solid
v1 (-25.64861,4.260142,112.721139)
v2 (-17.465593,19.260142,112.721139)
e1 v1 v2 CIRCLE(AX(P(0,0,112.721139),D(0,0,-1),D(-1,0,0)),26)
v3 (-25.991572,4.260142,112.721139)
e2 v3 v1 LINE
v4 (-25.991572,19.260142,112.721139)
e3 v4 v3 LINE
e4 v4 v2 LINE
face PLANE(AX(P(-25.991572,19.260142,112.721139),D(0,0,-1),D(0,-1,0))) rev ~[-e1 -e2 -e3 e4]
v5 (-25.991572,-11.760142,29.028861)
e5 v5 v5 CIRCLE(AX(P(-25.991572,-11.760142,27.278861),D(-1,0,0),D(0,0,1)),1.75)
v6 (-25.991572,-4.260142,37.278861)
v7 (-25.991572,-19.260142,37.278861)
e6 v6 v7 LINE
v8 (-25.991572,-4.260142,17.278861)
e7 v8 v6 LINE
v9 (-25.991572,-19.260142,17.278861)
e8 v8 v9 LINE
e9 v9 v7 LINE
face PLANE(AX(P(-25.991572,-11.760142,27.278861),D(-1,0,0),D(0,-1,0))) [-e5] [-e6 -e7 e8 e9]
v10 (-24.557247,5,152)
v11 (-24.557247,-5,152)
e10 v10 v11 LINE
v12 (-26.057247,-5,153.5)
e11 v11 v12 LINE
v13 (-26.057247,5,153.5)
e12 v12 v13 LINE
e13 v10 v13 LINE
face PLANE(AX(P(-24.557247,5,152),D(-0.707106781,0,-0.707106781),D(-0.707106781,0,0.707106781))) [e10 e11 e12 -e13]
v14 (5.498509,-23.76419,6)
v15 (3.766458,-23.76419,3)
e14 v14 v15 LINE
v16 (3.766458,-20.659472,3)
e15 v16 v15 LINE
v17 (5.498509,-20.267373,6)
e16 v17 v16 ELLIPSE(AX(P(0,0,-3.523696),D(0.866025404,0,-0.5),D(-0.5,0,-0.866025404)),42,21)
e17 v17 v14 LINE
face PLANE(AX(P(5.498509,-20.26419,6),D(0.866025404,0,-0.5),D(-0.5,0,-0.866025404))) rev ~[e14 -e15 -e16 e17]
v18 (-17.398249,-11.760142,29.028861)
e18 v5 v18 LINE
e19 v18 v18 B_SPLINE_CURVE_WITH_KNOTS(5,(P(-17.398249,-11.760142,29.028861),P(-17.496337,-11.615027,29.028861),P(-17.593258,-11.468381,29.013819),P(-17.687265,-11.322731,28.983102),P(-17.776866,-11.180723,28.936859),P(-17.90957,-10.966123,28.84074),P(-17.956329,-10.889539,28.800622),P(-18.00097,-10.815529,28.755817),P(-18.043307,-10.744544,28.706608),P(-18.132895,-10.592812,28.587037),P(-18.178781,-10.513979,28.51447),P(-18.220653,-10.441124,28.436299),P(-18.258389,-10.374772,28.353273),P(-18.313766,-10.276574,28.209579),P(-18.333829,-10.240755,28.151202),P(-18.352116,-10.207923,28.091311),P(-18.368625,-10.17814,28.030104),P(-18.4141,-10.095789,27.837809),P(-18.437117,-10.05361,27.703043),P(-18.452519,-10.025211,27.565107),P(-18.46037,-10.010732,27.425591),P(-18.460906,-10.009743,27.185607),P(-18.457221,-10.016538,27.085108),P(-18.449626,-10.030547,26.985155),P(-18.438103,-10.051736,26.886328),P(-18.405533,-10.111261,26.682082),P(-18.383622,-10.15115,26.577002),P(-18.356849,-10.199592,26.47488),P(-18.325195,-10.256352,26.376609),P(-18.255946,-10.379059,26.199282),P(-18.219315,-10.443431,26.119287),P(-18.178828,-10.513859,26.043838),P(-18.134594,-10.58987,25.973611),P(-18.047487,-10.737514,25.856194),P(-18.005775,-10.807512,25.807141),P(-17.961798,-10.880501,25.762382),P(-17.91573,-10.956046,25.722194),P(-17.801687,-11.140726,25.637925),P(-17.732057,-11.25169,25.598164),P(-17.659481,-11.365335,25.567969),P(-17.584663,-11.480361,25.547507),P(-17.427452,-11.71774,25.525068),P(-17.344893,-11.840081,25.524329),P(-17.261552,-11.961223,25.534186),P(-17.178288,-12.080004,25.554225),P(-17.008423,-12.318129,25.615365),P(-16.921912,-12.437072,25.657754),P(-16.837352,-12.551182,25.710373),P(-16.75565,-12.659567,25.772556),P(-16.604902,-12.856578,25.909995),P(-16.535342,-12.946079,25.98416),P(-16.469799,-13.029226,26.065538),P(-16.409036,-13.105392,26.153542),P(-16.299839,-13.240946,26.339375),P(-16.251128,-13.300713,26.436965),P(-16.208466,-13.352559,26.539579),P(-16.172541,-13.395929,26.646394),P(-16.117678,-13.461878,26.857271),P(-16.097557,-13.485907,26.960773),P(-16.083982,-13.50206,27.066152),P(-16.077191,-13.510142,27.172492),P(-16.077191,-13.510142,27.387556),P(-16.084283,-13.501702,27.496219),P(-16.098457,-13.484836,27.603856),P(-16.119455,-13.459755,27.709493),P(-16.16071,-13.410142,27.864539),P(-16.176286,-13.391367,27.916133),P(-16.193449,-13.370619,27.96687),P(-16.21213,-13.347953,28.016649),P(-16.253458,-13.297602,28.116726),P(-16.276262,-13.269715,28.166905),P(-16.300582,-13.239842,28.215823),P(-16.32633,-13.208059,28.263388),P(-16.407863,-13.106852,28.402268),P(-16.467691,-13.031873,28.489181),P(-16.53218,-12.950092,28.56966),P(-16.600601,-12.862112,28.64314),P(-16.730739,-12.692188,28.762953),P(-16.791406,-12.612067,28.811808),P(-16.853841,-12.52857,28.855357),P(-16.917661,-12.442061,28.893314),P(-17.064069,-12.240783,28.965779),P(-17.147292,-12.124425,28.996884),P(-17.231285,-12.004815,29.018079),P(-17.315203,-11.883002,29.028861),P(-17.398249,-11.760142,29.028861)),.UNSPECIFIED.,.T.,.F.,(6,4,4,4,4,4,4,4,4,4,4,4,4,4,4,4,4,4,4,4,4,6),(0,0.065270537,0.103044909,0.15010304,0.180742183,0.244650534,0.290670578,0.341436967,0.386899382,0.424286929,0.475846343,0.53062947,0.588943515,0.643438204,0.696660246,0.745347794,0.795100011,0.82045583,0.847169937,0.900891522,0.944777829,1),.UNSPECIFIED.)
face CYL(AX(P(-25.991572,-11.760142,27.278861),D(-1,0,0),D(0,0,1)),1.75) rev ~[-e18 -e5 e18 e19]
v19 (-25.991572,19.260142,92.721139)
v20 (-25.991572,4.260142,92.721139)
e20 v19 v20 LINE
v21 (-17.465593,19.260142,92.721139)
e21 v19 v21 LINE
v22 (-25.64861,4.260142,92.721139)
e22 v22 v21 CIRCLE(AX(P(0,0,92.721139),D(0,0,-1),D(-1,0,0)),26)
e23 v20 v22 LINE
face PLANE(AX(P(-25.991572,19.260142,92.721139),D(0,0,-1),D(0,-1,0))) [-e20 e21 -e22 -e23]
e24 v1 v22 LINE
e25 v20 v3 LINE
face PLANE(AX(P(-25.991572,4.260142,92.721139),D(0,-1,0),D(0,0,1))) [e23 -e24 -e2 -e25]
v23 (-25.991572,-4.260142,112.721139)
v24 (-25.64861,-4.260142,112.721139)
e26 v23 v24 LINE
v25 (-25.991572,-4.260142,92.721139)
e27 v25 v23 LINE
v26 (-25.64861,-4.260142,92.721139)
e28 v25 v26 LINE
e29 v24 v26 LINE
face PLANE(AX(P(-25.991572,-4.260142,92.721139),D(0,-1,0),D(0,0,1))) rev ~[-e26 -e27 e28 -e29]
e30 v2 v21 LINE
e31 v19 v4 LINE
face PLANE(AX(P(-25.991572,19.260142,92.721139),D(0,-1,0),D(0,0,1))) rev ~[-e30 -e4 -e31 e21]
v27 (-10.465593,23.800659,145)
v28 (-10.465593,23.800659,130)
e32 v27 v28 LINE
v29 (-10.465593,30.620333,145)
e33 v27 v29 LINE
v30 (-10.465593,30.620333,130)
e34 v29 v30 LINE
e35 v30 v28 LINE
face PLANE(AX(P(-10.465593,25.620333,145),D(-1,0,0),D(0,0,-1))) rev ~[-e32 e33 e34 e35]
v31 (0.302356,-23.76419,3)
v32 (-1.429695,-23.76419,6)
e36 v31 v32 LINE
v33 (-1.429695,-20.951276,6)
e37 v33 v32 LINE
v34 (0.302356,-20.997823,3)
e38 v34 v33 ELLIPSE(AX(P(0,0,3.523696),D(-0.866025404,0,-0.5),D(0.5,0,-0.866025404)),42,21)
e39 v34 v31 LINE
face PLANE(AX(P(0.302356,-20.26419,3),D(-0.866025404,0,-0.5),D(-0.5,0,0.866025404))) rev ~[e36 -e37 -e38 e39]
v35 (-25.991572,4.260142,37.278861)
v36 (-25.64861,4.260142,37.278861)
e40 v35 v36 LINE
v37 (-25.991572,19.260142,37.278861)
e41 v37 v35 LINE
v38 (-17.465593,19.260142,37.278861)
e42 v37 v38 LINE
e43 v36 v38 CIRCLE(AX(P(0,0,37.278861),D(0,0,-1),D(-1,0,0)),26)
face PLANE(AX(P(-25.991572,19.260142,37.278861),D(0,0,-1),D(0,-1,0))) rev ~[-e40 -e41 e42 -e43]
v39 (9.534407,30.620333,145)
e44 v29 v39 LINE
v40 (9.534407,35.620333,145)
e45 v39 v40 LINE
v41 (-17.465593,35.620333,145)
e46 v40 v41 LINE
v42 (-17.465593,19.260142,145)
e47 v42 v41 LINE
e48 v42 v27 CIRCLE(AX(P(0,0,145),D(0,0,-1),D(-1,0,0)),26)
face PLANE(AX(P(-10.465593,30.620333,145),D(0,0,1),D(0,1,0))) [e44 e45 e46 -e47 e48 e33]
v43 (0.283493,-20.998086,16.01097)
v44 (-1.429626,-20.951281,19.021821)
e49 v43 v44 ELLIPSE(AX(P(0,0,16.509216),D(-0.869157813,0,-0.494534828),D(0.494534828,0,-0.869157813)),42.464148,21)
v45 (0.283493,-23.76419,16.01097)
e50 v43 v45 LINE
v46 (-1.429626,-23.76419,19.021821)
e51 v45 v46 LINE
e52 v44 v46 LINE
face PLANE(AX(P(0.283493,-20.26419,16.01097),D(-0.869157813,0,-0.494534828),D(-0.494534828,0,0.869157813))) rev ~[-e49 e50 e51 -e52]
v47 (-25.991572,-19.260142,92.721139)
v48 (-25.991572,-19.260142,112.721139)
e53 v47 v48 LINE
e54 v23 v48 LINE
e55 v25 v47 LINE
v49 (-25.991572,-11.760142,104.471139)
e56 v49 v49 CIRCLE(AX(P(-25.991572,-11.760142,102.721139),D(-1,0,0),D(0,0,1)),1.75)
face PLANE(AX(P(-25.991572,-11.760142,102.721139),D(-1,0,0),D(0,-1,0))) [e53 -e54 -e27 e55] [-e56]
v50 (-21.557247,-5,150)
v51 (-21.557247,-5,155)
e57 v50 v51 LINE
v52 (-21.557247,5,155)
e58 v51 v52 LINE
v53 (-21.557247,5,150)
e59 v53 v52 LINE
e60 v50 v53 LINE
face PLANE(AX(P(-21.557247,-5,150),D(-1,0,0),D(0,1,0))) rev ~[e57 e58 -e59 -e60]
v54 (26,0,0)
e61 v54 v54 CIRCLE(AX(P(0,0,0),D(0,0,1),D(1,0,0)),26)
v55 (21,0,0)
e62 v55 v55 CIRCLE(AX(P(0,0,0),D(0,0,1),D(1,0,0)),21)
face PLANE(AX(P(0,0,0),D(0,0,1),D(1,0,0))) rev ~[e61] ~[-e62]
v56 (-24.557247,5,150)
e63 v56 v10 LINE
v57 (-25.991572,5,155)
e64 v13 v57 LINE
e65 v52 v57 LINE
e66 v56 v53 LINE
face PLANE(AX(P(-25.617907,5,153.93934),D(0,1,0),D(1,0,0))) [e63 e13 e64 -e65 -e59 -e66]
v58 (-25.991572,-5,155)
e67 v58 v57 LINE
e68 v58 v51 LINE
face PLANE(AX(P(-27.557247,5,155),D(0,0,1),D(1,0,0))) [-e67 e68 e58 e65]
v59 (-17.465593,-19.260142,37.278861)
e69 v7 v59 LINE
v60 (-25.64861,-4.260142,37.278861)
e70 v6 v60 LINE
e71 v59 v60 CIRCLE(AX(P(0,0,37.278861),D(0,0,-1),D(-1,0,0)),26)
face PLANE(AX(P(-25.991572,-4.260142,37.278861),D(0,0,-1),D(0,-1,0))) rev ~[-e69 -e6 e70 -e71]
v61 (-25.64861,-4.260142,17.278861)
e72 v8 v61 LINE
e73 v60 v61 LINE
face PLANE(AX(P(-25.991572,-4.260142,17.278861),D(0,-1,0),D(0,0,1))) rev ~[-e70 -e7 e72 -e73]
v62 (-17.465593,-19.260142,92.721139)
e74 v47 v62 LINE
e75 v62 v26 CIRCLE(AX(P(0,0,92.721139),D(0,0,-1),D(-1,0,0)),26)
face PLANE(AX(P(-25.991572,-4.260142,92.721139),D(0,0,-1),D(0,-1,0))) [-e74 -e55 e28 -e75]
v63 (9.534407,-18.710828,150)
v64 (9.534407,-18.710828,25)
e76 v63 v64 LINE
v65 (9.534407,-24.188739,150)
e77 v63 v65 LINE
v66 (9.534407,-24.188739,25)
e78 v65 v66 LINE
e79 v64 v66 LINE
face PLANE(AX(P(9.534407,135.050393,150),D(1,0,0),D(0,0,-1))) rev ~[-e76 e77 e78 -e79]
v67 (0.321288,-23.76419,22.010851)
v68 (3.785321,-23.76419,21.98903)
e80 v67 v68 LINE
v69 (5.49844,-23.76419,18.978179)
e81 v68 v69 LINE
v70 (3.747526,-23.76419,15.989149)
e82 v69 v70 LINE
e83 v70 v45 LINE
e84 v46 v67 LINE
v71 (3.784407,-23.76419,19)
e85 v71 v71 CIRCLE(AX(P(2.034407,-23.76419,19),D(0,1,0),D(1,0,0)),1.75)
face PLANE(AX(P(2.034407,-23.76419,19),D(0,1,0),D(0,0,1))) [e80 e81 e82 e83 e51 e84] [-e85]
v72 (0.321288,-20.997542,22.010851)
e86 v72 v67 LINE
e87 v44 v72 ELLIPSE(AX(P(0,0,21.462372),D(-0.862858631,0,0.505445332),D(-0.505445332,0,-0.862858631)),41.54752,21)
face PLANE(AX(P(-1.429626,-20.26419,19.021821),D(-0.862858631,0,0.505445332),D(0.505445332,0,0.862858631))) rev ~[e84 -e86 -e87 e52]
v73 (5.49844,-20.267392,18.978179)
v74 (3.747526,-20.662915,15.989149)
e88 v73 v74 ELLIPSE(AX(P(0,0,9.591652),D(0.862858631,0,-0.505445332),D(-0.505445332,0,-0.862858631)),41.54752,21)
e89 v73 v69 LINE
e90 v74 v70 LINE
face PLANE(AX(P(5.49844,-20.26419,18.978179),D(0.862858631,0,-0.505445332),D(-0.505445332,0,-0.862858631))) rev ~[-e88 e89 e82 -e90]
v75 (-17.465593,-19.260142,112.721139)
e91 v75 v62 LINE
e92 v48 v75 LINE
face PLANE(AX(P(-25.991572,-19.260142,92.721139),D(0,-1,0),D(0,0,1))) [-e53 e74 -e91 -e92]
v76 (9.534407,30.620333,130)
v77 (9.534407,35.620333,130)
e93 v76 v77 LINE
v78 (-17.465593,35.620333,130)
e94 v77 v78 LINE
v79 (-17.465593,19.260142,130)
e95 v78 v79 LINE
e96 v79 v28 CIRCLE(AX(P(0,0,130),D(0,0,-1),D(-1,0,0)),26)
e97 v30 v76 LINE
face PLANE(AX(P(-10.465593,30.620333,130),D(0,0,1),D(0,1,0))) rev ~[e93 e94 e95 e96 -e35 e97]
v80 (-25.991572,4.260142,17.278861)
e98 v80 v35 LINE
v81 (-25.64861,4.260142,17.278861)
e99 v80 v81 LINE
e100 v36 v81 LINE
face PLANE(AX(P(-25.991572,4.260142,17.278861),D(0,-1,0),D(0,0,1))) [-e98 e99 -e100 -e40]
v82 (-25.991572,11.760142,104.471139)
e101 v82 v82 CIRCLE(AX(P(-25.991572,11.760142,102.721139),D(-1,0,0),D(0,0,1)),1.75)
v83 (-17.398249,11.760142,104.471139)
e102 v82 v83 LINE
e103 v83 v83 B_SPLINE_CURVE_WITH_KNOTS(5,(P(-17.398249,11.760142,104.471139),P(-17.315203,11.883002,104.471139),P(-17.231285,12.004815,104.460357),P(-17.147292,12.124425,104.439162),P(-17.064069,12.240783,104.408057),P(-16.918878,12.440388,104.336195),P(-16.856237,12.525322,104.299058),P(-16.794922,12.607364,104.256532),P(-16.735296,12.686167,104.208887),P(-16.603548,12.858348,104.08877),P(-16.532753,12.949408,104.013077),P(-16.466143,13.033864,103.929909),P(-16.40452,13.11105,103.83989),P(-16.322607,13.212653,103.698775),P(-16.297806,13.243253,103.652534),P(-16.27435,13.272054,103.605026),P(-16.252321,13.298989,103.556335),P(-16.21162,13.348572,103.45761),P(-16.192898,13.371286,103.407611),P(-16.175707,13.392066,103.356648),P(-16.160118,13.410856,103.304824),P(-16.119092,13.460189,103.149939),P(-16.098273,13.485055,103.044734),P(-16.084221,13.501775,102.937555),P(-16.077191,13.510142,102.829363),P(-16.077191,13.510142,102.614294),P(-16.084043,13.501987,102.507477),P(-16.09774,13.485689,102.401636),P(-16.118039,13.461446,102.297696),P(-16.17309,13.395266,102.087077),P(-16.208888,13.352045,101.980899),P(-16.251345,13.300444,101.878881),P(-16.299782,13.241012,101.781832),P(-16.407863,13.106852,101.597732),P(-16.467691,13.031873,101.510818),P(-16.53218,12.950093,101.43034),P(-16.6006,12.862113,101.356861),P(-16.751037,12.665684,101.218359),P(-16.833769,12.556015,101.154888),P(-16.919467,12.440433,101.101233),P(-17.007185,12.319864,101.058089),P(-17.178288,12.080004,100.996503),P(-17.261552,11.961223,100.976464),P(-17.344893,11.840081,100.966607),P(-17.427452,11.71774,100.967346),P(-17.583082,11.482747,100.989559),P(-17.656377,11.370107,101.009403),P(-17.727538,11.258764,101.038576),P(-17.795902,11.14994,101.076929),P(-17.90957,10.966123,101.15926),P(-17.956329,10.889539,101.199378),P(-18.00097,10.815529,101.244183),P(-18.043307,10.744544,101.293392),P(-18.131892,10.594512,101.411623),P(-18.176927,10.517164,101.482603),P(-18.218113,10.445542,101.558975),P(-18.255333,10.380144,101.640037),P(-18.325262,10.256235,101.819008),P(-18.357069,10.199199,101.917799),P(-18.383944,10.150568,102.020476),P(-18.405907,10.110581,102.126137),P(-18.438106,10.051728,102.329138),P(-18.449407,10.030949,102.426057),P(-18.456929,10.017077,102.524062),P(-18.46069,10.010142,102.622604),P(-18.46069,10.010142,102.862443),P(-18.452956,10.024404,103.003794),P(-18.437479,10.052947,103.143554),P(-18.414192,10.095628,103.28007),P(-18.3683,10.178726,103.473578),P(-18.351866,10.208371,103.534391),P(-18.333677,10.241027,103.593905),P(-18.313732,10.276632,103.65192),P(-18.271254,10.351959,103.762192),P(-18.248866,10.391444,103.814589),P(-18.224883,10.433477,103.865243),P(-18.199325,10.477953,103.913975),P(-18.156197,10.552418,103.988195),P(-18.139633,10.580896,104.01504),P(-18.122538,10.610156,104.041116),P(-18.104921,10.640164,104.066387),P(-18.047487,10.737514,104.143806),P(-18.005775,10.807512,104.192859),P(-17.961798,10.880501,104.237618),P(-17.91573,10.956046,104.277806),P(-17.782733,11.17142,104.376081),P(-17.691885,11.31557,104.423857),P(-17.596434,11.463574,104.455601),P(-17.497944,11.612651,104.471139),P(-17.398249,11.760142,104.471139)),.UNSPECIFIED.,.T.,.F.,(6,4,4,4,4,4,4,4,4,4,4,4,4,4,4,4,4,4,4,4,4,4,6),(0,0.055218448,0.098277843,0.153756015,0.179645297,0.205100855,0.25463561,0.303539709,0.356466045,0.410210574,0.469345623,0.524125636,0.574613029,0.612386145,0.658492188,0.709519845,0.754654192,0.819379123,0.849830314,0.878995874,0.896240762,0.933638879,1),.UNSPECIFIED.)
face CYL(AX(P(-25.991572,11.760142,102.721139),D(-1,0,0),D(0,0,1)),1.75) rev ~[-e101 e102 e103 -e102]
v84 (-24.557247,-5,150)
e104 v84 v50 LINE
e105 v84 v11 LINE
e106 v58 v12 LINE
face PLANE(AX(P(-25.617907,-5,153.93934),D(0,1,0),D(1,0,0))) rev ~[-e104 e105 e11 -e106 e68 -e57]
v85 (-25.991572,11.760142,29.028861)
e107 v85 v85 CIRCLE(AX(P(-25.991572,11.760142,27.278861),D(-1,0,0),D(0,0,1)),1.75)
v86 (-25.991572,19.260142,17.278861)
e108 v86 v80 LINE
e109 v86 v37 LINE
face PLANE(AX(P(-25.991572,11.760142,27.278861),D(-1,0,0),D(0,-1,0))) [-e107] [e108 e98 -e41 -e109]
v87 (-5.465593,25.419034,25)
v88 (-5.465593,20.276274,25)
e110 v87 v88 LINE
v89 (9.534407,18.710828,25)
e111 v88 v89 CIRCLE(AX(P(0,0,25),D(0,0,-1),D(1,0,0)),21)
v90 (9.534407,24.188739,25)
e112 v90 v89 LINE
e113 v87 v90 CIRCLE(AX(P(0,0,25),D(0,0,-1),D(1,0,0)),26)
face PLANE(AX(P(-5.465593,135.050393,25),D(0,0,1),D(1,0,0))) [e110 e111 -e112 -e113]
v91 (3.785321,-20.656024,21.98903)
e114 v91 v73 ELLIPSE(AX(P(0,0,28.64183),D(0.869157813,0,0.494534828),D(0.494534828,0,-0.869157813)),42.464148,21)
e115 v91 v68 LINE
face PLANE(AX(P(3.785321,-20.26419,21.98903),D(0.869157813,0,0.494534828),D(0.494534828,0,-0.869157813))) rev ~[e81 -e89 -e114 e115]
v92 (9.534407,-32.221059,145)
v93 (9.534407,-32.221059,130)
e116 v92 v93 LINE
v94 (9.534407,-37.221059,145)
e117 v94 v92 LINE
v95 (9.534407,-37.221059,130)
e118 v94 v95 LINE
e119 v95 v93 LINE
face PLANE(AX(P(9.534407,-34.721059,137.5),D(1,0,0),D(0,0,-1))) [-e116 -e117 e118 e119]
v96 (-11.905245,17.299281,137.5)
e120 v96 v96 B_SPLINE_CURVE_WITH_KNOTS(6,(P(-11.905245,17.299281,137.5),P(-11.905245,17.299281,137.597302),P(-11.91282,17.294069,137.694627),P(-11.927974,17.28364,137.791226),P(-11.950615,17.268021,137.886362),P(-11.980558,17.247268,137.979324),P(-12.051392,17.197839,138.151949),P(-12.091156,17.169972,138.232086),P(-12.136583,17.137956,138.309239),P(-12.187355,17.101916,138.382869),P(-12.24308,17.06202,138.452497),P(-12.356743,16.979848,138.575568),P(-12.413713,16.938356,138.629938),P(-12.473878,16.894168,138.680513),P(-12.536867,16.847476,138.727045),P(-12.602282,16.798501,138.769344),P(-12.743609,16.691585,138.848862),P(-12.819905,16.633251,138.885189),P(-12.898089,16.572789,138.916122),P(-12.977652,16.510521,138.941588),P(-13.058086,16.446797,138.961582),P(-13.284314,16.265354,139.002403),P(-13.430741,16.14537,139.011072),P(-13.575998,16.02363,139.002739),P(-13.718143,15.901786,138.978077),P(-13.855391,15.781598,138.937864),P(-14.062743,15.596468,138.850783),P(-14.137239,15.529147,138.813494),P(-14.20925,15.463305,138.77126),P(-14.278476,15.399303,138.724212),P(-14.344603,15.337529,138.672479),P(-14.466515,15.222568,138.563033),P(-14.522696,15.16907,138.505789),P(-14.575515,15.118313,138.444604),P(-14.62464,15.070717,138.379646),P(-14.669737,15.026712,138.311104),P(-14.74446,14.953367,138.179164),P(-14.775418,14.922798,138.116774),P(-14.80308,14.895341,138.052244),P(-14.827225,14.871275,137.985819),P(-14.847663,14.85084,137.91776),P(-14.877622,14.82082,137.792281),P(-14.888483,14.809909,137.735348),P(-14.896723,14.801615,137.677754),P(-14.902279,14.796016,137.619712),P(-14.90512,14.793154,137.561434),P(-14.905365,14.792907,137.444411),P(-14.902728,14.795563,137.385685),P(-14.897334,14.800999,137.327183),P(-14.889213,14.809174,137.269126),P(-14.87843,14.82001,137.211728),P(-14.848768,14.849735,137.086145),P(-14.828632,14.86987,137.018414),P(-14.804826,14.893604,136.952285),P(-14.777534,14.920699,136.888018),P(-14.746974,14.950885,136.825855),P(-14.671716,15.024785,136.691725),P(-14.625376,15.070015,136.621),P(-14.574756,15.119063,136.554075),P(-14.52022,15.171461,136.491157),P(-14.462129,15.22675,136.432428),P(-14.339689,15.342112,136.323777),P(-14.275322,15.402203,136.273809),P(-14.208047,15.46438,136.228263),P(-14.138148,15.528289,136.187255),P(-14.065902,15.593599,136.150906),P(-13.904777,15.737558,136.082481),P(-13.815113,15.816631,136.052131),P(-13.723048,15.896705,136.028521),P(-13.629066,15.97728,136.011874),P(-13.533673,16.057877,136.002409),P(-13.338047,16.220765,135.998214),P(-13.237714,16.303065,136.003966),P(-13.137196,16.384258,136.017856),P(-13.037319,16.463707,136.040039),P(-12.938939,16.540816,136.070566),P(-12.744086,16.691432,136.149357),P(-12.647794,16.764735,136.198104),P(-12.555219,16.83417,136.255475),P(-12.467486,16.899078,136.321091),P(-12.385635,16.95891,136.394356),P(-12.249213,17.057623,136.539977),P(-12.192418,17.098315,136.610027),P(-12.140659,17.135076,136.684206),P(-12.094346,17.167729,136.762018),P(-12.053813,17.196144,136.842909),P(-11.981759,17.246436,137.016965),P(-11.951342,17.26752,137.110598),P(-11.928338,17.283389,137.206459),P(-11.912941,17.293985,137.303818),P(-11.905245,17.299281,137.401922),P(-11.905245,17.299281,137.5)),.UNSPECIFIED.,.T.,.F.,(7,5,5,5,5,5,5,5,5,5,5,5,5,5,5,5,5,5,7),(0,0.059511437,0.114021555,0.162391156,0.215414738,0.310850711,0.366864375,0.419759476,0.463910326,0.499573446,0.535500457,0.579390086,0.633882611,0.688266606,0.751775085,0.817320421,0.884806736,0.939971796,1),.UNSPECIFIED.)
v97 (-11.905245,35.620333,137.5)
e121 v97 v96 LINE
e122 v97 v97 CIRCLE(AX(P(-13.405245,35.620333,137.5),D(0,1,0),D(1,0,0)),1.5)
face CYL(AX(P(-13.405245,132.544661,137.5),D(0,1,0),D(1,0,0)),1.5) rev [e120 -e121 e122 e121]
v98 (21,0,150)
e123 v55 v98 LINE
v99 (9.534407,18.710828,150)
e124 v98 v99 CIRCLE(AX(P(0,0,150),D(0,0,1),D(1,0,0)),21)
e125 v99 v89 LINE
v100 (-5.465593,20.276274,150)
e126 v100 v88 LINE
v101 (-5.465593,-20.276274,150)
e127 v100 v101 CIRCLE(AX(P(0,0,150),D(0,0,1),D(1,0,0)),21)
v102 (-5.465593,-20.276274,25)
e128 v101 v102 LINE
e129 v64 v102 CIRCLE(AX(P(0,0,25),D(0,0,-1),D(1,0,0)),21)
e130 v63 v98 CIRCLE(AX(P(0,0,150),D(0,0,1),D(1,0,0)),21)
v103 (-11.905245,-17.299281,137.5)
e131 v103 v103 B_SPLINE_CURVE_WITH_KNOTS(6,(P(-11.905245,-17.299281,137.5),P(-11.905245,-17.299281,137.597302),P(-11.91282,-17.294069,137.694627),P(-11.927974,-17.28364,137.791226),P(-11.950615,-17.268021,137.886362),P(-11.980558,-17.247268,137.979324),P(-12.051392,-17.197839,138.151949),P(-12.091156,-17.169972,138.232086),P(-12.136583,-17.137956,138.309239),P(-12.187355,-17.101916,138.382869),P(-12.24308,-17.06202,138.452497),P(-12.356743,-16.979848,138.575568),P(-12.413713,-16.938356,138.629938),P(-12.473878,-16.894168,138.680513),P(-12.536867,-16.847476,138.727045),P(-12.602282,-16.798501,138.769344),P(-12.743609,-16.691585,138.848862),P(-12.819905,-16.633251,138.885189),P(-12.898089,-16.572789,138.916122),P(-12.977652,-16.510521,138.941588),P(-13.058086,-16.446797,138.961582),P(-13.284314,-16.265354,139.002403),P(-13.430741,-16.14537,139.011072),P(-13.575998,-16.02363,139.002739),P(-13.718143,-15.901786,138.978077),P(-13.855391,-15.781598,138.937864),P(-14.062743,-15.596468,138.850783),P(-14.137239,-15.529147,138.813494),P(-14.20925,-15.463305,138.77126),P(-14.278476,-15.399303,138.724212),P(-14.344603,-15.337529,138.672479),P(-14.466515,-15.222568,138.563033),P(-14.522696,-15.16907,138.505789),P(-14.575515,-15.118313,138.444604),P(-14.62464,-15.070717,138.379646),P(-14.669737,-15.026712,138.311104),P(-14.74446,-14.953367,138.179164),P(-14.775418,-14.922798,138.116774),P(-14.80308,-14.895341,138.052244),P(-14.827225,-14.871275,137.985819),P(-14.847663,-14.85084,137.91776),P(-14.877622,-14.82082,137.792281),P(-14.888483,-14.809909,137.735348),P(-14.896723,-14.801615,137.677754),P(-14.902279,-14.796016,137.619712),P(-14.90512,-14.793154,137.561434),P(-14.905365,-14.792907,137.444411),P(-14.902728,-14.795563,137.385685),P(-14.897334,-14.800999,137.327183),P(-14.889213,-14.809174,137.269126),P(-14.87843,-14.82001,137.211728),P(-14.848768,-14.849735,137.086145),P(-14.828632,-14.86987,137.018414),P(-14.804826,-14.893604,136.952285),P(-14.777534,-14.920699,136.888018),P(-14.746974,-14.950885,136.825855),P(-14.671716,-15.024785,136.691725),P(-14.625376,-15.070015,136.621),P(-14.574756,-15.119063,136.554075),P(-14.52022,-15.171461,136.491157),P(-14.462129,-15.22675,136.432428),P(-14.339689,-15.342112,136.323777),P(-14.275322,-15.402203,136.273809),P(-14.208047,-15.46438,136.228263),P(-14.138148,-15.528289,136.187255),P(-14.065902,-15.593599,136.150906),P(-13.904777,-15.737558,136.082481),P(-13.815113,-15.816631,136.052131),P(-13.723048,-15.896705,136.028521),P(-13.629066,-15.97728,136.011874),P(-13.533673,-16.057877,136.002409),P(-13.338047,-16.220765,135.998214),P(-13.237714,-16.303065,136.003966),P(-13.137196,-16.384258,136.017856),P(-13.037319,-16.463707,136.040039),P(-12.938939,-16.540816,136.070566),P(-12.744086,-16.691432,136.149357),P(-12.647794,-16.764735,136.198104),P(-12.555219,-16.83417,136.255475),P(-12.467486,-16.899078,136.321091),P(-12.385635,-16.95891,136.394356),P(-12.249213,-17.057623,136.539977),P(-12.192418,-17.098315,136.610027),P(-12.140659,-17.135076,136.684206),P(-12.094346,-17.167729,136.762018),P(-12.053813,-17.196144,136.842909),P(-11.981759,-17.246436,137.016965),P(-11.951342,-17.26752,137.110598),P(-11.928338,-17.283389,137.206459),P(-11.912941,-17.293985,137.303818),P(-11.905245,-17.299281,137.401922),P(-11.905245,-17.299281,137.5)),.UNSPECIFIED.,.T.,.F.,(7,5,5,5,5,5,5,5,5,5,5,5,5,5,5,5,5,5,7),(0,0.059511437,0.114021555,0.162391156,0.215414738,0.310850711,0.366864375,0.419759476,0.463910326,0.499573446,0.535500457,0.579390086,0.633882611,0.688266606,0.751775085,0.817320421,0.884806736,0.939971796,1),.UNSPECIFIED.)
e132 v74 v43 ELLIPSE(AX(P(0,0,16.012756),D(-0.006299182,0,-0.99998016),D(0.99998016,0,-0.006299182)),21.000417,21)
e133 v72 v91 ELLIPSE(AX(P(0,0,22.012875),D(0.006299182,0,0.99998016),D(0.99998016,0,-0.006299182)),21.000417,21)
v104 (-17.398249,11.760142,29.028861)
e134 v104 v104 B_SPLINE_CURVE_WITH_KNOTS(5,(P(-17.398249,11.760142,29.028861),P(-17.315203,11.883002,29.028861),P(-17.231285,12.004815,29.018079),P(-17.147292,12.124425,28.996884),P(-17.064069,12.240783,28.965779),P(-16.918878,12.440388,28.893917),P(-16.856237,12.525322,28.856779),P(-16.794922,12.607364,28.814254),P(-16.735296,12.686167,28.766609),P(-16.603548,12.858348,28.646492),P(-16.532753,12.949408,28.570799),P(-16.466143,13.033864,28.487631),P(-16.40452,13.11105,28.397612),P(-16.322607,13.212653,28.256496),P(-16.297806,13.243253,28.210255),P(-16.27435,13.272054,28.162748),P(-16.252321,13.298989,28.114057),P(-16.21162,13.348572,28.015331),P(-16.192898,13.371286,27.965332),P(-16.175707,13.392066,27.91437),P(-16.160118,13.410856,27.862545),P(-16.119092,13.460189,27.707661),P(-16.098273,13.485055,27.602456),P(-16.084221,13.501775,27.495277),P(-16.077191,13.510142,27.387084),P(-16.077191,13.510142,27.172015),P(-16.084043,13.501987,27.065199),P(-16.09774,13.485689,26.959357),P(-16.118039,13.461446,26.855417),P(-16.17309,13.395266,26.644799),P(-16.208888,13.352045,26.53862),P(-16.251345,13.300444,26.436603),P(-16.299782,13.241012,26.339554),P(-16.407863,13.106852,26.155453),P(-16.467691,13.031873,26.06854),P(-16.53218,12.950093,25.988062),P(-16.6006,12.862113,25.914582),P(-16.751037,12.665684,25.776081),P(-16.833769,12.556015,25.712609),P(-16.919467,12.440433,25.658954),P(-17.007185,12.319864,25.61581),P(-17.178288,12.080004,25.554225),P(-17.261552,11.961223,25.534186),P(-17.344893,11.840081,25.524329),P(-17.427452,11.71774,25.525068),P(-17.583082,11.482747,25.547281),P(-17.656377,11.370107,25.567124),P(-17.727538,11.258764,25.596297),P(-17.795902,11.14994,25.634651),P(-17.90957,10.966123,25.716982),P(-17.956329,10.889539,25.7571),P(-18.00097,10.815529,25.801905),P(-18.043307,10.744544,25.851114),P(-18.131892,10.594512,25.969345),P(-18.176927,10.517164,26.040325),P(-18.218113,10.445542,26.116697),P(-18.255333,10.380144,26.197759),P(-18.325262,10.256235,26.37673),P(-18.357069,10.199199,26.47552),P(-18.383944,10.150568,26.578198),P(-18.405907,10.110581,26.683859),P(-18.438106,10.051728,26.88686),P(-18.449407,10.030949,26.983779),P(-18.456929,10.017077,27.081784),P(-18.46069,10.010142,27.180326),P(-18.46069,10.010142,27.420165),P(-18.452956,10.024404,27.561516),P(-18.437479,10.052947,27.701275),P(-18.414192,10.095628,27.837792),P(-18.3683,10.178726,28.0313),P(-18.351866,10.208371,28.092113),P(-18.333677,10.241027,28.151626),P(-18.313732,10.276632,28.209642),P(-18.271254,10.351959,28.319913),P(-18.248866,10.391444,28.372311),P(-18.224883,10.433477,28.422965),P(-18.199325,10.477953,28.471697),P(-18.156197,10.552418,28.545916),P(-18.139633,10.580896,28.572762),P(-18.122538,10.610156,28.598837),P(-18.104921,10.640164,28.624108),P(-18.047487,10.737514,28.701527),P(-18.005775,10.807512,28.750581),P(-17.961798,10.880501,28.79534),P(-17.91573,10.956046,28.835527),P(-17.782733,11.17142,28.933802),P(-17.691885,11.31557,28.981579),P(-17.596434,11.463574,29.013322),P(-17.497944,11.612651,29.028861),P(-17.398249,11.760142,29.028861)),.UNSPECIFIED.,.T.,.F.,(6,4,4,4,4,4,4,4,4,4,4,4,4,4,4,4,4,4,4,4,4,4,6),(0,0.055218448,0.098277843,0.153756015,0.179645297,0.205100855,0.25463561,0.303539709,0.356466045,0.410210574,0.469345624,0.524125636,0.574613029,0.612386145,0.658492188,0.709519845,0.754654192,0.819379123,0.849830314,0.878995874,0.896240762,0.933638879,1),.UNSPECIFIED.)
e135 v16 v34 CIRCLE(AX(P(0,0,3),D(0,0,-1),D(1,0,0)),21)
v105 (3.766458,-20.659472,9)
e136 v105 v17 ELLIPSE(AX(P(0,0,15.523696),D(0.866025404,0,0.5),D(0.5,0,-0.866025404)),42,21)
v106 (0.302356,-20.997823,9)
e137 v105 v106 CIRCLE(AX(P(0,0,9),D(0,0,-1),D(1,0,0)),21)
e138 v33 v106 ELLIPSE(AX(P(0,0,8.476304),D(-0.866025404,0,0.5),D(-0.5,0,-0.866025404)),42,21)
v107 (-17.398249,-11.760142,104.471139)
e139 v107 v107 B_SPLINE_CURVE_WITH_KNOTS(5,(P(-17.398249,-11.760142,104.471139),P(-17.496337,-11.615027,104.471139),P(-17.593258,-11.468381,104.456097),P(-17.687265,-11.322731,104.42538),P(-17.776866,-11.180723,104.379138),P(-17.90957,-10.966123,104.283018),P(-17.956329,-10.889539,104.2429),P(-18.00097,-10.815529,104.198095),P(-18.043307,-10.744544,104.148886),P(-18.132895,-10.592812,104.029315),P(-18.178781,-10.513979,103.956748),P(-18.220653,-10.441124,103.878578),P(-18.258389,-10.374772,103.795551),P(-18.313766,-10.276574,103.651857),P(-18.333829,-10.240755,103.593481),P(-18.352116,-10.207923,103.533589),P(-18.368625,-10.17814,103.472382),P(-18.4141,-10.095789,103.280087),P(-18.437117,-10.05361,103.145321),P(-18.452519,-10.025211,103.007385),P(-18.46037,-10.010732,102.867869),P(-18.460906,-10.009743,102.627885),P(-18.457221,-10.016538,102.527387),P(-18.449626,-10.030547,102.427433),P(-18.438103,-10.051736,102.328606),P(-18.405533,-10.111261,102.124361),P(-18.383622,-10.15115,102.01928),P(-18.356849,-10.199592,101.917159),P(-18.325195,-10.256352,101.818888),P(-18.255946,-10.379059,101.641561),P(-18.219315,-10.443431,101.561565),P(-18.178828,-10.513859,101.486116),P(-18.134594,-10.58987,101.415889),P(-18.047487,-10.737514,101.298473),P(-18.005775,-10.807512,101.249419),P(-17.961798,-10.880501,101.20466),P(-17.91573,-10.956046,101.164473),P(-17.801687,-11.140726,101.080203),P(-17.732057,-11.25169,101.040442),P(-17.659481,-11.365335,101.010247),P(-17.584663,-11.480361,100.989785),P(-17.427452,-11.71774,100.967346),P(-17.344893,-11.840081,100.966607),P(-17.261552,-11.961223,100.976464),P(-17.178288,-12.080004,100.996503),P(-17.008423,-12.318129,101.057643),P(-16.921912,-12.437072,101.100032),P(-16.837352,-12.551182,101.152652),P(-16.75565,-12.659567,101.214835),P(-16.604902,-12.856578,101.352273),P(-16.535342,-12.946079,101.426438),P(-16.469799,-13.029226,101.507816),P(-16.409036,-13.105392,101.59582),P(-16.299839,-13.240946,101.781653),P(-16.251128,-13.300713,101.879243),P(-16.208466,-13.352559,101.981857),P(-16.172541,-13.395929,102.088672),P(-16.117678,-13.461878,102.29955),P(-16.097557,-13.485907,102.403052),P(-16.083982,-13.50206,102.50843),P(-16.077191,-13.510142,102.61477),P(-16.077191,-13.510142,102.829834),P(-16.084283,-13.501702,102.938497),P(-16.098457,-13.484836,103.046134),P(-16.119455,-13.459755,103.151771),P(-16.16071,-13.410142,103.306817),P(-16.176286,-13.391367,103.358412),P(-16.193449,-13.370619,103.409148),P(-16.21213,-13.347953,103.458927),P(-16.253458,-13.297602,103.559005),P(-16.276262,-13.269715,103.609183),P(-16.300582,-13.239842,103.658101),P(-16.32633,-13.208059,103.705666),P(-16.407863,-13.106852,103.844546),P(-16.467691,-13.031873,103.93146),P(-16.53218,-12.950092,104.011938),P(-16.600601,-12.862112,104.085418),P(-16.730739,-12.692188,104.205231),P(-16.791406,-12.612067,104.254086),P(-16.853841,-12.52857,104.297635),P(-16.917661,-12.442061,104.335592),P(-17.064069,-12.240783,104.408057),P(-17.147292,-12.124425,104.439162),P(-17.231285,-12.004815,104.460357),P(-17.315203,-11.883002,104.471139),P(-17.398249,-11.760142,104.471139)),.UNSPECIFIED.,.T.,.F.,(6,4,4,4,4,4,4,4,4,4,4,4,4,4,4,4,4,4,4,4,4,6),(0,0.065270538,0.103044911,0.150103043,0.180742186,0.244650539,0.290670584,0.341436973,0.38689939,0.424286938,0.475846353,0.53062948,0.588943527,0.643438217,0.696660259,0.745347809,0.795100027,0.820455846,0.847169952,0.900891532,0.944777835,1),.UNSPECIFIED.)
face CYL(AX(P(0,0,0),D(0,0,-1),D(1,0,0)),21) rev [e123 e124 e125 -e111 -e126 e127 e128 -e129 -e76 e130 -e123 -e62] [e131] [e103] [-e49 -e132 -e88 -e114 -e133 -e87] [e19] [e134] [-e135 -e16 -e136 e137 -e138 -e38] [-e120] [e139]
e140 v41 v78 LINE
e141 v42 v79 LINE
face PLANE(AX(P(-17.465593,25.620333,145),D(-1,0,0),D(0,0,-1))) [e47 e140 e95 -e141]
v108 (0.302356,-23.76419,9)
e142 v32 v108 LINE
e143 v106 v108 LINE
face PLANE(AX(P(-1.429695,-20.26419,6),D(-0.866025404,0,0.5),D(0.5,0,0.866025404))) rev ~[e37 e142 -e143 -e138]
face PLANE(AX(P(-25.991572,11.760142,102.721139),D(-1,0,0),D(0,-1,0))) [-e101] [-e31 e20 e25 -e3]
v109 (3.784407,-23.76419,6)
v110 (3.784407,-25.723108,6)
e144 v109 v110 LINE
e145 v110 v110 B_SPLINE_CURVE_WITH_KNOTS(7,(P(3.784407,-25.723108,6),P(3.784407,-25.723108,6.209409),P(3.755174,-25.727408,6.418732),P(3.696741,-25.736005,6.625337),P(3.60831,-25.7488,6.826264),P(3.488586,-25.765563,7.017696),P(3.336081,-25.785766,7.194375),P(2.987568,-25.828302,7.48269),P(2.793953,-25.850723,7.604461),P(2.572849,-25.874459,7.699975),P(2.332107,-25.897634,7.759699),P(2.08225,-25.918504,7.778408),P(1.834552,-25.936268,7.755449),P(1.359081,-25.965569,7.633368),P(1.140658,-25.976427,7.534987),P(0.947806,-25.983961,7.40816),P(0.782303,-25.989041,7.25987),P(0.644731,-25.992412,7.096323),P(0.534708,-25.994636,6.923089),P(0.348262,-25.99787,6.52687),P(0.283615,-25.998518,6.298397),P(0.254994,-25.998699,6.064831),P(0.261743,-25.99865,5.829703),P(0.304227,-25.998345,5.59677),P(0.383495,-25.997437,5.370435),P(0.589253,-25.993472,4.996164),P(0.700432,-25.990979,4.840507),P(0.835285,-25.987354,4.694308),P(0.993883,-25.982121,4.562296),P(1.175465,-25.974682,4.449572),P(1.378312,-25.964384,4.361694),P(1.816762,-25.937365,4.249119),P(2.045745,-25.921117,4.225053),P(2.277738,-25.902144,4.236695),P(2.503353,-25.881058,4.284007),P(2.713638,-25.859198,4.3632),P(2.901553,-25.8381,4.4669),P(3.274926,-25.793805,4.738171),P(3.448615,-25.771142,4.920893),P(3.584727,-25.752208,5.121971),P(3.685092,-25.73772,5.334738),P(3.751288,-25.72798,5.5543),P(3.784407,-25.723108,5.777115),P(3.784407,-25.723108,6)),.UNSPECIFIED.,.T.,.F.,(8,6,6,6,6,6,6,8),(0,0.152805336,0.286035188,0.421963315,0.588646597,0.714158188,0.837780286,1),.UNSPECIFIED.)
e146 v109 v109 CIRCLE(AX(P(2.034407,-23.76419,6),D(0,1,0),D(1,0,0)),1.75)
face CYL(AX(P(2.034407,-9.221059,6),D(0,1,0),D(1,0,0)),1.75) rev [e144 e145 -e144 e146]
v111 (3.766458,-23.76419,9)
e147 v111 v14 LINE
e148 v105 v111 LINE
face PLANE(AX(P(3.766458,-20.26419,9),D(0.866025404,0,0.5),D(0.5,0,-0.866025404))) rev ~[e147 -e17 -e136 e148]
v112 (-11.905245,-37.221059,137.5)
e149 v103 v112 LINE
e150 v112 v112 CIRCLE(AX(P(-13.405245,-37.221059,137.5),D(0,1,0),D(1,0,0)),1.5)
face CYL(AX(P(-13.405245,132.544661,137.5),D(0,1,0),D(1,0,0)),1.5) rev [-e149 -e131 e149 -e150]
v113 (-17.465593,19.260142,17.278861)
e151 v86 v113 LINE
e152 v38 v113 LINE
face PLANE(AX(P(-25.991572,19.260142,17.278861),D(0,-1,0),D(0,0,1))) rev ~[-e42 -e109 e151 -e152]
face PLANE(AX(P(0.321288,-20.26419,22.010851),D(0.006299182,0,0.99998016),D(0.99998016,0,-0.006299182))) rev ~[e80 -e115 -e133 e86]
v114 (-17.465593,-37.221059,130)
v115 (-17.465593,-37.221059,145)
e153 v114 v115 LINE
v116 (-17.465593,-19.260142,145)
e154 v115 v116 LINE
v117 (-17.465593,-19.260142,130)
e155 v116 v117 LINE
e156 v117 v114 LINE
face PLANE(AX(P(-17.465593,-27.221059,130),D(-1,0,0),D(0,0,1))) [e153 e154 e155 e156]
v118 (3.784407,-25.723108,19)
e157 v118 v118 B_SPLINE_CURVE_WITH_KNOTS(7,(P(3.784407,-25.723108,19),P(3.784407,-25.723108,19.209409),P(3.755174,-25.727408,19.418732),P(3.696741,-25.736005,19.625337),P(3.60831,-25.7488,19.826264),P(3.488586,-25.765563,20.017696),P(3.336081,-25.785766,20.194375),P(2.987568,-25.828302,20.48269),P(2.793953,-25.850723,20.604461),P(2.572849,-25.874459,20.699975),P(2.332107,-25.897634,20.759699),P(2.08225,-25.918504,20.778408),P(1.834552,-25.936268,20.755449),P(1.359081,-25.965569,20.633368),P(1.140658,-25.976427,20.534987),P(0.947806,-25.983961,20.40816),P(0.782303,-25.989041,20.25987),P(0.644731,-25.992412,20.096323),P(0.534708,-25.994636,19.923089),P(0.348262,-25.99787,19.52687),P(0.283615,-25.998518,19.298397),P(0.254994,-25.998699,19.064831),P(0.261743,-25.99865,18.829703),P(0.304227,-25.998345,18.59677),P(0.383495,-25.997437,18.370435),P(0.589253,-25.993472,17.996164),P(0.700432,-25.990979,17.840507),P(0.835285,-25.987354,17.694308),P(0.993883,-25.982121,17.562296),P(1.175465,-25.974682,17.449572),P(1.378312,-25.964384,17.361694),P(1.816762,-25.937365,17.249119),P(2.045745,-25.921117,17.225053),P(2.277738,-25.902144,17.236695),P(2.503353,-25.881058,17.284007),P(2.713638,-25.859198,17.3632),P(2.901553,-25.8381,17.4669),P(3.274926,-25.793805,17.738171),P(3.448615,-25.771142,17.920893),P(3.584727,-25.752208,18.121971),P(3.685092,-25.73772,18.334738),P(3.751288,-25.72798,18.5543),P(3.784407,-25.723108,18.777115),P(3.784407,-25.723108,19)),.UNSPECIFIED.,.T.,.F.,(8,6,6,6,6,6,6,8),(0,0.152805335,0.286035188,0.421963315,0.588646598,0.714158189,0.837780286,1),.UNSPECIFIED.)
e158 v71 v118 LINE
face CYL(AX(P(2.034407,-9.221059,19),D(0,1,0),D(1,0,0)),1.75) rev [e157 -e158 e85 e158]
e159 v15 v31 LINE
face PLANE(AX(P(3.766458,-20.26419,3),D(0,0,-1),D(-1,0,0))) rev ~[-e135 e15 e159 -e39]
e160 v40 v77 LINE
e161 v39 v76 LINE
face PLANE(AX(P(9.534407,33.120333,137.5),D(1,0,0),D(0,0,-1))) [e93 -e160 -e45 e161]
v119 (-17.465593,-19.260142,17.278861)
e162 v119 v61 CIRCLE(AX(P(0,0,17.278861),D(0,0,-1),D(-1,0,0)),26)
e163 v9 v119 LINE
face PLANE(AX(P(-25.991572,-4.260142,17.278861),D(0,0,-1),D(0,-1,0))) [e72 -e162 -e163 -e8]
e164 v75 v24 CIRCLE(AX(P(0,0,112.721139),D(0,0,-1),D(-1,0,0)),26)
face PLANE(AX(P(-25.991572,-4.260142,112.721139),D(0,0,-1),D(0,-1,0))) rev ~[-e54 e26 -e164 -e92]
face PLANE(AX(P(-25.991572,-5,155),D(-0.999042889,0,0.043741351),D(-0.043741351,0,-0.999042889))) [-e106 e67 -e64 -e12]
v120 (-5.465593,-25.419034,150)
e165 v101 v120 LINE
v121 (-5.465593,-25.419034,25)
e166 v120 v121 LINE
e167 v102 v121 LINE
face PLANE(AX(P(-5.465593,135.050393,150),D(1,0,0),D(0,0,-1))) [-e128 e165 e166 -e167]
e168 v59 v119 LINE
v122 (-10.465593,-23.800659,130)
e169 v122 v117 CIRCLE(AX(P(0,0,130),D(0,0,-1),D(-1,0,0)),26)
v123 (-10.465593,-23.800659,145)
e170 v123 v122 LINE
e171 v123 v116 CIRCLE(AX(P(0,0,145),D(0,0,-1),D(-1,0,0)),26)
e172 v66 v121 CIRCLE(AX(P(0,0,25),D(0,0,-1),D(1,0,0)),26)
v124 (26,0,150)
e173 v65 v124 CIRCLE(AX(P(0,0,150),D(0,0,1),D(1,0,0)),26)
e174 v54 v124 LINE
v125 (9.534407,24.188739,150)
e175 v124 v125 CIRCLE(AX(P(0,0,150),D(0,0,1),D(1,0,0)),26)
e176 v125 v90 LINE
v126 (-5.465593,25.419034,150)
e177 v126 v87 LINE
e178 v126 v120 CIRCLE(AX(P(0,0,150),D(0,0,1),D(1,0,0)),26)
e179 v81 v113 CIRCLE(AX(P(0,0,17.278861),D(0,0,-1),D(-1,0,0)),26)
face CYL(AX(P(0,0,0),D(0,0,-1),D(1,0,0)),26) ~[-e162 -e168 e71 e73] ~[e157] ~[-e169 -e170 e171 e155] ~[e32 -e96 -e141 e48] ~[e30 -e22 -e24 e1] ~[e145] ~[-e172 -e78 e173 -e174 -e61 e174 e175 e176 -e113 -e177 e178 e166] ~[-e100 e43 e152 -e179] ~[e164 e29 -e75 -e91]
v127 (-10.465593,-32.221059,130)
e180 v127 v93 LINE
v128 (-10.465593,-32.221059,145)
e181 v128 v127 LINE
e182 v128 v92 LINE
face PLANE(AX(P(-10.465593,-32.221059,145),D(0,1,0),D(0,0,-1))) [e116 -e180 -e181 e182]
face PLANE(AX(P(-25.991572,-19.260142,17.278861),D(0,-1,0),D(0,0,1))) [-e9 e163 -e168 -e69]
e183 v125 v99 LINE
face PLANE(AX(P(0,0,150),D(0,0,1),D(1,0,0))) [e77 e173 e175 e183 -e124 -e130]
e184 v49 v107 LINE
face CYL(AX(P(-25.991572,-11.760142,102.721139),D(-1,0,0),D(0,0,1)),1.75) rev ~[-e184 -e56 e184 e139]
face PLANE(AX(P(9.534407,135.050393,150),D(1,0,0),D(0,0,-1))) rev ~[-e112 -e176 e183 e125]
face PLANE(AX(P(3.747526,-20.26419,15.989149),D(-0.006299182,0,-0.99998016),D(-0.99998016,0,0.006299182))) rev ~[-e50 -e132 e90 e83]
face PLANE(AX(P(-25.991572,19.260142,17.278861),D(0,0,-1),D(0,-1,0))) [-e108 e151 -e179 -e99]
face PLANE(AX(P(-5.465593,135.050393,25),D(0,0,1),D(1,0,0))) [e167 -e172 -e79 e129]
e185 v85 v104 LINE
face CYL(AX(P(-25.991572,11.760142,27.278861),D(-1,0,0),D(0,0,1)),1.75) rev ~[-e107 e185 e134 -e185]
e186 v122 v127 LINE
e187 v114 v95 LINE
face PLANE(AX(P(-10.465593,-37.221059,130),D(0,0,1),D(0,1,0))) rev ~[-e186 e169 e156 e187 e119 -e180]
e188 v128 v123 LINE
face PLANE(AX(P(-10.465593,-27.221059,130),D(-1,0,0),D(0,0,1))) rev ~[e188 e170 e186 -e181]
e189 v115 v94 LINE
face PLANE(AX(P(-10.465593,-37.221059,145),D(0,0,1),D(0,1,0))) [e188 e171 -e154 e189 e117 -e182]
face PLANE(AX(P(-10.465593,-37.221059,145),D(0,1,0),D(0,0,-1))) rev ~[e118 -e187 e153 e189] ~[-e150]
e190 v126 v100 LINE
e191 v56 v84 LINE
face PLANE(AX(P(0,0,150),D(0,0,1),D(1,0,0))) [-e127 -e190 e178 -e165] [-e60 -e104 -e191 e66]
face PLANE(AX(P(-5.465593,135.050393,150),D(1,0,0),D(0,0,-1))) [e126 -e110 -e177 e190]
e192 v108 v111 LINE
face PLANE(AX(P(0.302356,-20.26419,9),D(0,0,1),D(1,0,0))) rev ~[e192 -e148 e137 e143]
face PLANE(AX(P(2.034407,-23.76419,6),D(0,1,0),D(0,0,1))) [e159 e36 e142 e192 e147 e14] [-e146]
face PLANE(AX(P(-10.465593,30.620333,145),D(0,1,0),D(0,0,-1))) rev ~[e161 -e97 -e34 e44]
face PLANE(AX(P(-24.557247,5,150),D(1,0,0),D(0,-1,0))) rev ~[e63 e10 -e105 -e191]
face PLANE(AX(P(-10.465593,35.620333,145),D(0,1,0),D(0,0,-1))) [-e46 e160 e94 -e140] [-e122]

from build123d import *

# Parameters (mm, degrees)
ESBO_O1_R                     = 26
ESBO_O1_R_2                   = 21
RESSALTO_EXTRUS_O1_DEPTH      = 150
CORTE_EXTRUS_O1_DEPTH         = 162.271451737
CORTE_EXTRUS_O1_DEPTH_BACK    = 162.271451737
ESBO_O3_W                     = 125
ESBO_O3_H                     = 15
RESSALTO_EXTRUS_O2_REACH      = 163.271
RESSALTO_EXTRUS_O2_END_RADIUS = 26
ESBO_O4_W                     = 15
ESBO_O4_H                     = 7
ESBO_O5_W                     = 7
ESBO_O5_H                     = 15
RESSALTO_EXTRUS_O3_DEPTH      = 10
ESBO_O6_W                     = 15
ESBO_O6_H                     = 5
RESSALTO_EXTRUS_O4_DEPTH      = 20
RESSALTO_EXTRUS_O5_REACH      = 166.697
RESSALTO_EXTRUS_O5_END_RADIUS = 26
ESBO_O7_W                     = 15
ESBO_O7_H                     = 7
ESBO_O8_W                     = 7
ESBO_O8_H                     = 15
RESSALTO_EXTRUS_O6_DEPTH      = 10
ESBO_O9_W                     = 15
ESBO_O9_H                     = 5
RESSALTO_EXTRUS_O7_DEPTH      = 20
CORTE_EXTRUS_O2_DEPTH         = 169.765720645
CORTE_EXTRUS_O2_DEPTH_BACK    = 169.765720645
ESBO_O10_R                    = 1.5
RESSALTO_EXTRUS_O8_REACH      = 165.06
RESSALTO_EXTRUS_O8_END_RADIUS = 26
ESBO_O14_W                    = 15
ESBO_O14_H                    = 20
ESBO_O15_R                    = 1.75
CORTE_EXTRUS_O3_DEPTH         = 15
CORTE_EXTRUS_O4_DEPTH         = 3
CORTE_EXTRUS_O4_DEPTH_BACK    = 18
ESBO_O17_R                    = 1.75
CORTE_EXTRUS_O5_START         = -41.1
CORTE_EXTRUS_O5_DEPTH         = 3.5
ESBO_O19_W                    = 3
ESBO_O19_H                    = 5
RESSALTO_EXTRUS_O9_DEPTH      = 5
RESSALTO_EXTRUS_O10_DEPTH     = 10
CORTE_EXTRUS_O6_DEPTH         = 163.586633287


with BuildPart() as part:
    # Esboço1 → Ressalto-extrusão1 (new body)
    with BuildSketch(Plane.XY):
        Circle(ESBO_O1_R)
        Circle(ESBO_O1_R_2, mode=Mode.SUBTRACT)
    extrude(amount=RESSALTO_EXTRUS_O1_DEPTH)

    # Esboço3 → Corte-extrusão1 (cut, two sides: drawn at the far end of the back side and taken through both)
    with BuildSketch(Plane(origin=(0, -27.221059229, 0), x_dir=(0, 0, -1), z_dir=(0, -1, 0)).offset(-CORTE_EXTRUS_O1_DEPTH_BACK)):
        with Locations((-87.5, 2.034407051)):
            Rectangle(ESBO_O3_W, ESBO_O3_H)
    extrude(amount=CORTE_EXTRUS_O1_DEPTH + CORTE_EXTRUS_O1_DEPTH_BACK, mode=Mode.SUBTRACT)

    # Ressalto-extrusão2: up to this cylinder (the profile starts outside it)
    ressalto_extrus_o2_end = Plane(origin=(0, 0, 137.5), z_dir=(0, 0, -1)) * Cylinder(RESSALTO_EXTRUS_O2_END_RADIUS, 379.542, mode=Mode.PRIVATE)
    # Esboço4 → Ressalto-extrusão2 (add, up to the surface)
    with BuildSketch(Plane(origin=(0, -27.221059229, 0), x_dir=(0, 0, -1), z_dir=(0, -1, 0)), mode=Mode.PRIVATE) as ressalto_extrus_o2_sk1:
        with Locations((-137.5, -13.965592949)):
            Rectangle(ESBO_O4_W, ESBO_O4_H)
    ressalto_extrus_o2_tool1 = extrude(ressalto_extrus_o2_sk1.sketch, amount=-RESSALTO_EXTRUS_O2_REACH, mode=Mode.PRIVATE) - ressalto_extrus_o2_end
    add(ressalto_extrus_o2_tool1.solids().sort_by_distance((-13.965593, -27.221059, 137.5))[0])

    # Esboço5 → Ressalto-extrusão3 (add)
    with BuildSketch(Plane.XZ.offset(27.221059229)):
        with Locations((-13.965592949, 137.5)):
            Rectangle(ESBO_O5_W, ESBO_O5_H)
    extrude(amount=RESSALTO_EXTRUS_O3_DEPTH)

    # Esboço6 → Ressalto-extrusão4 (add)
    with BuildSketch(Plane(origin=(-10.465592949, 0, 0), x_dir=(0, 0, -1), z_dir=(1, 0, 0))):
        with Locations((-137.5, -34.721059229)):
            Rectangle(ESBO_O6_W, ESBO_O6_H)
    extrude(amount=RESSALTO_EXTRUS_O4_DEPTH)

    # Ressalto-extrusão5: up to this cylinder (the profile starts outside it)
    ressalto_extrus_o5_end = Plane(origin=(0, 0, 137.5), z_dir=(0, 0, -1)) * Cylinder(RESSALTO_EXTRUS_O5_END_RADIUS, 386.394, mode=Mode.PRIVATE)
    # Esboço7 → Ressalto-extrusão5 (add, up to the surface)
    with BuildSketch(Plane.ZX.offset(25.620333295), mode=Mode.PRIVATE) as ressalto_extrus_o5_sk1:
        with Locations((137.5, -13.965592949)):
            Rectangle(ESBO_O7_W, ESBO_O7_H)
    ressalto_extrus_o5_tool1 = extrude(ressalto_extrus_o5_sk1.sketch, amount=-RESSALTO_EXTRUS_O5_REACH, mode=Mode.PRIVATE) - ressalto_extrus_o5_end
    add(ressalto_extrus_o5_tool1.solids().sort_by_distance((-13.965593, 25.620333, 137.5))[0])

    # Esboço8 → Ressalto-extrusão6 (add)
    with BuildSketch(Plane(origin=(0, 25.620333295, 0), x_dir=(1, 0, 0), z_dir=(0, 1, 0))):
        with Locations((-13.965592949, -137.5)):
            Rectangle(ESBO_O8_W, ESBO_O8_H)
    extrude(amount=RESSALTO_EXTRUS_O6_DEPTH)

    # Esboço9 → Ressalto-extrusão7 (add)
    with BuildSketch(Plane(origin=(-10.465592949, 0, 0), x_dir=(0, 0, -1), z_dir=(1, 0, 0))):
        with Locations((-137.5, 33.120333295)):
            Rectangle(ESBO_O9_W, ESBO_O9_H)
    extrude(amount=RESSALTO_EXTRUS_O7_DEPTH)

    # Esboço10 → Corte-extrusão2 (cut, two sides: drawn at the far end of the back side and taken through both)
    with BuildSketch(Plane.XZ.offset(37.221059229).offset(-CORTE_EXTRUS_O2_DEPTH_BACK)):
        with Locations((-13.4052452, 137.5)):
            Circle(ESBO_O10_R)
    extrude(amount=CORTE_EXTRUS_O2_DEPTH + CORTE_EXTRUS_O2_DEPTH_BACK, mode=Mode.SUBTRACT)

    # Ressalto-extrusão8: up to this cylinder (the profile starts outside it)
    ressalto_extrus_o8_end = Plane(origin=(0, 0, 65), z_dir=(0, 0, -1)) * Cylinder(RESSALTO_EXTRUS_O8_END_RADIUS, 458.562278, mode=Mode.PRIVATE)
    # Esboço14 → Ressalto-extrusão8 (add, up to the surface)
    with BuildSketch(Plane(origin=(-25.991571687, 0, 0), x_dir=(0, -1, 0), z_dir=(-1, 0, 0)), mode=Mode.PRIVATE) as ressalto_extrus_o8_sk1:
        with Locations((-11.76014182, 102.721139131)):
            Rectangle(ESBO_O14_W, ESBO_O14_H)
    ressalto_extrus_o8_tool1 = extrude(ressalto_extrus_o8_sk1.sketch, amount=-RESSALTO_EXTRUS_O8_REACH, mode=Mode.PRIVATE) - ressalto_extrus_o8_end
    add(ressalto_extrus_o8_tool1.solids().sort_by_distance((-25.991572, 11.760142, 102.721139))[0])
    # Esboço14 → Ressalto-extrusão8 (add, up to the surface)
    with BuildSketch(Plane(origin=(-25.991571687, 0, 0), x_dir=(0, -1, 0), z_dir=(-1, 0, 0)), mode=Mode.PRIVATE) as ressalto_extrus_o8_sk2:
        with Locations((11.76014182, 102.721139131)):
            Rectangle(ESBO_O14_W, ESBO_O14_H)
    ressalto_extrus_o8_tool2 = extrude(ressalto_extrus_o8_sk2.sketch, amount=-RESSALTO_EXTRUS_O8_REACH, mode=Mode.PRIVATE) - ressalto_extrus_o8_end
    add(ressalto_extrus_o8_tool2.solids().sort_by_distance((-25.991572, -11.760142, 102.721139))[0])
    # Esboço14 → Ressalto-extrusão8 (add, up to the surface)
    with BuildSketch(Plane(origin=(-25.991571687, 0, 0), x_dir=(0, -1, 0), z_dir=(-1, 0, 0)), mode=Mode.PRIVATE) as ressalto_extrus_o8_sk3:
        with Locations((11.76014182, 27.278860869)):
            Rectangle(ESBO_O14_W, ESBO_O14_H)
    ressalto_extrus_o8_tool3 = extrude(ressalto_extrus_o8_sk3.sketch, amount=-RESSALTO_EXTRUS_O8_REACH, mode=Mode.PRIVATE) - ressalto_extrus_o8_end
    add(ressalto_extrus_o8_tool3.solids().sort_by_distance((-25.991572, -11.760142, 27.278861))[0])
    # Esboço14 → Ressalto-extrusão8 (add, up to the surface)
    with BuildSketch(Plane(origin=(-25.991571687, 0, 0), x_dir=(0, -1, 0), z_dir=(-1, 0, 0)), mode=Mode.PRIVATE) as ressalto_extrus_o8_sk4:
        with Locations((-11.76014182, 27.278860869)):
            Rectangle(ESBO_O14_W, ESBO_O14_H)
    ressalto_extrus_o8_tool4 = extrude(ressalto_extrus_o8_sk4.sketch, amount=-RESSALTO_EXTRUS_O8_REACH, mode=Mode.PRIVATE) - ressalto_extrus_o8_end
    add(ressalto_extrus_o8_tool4.solids().sort_by_distance((-25.991572, 11.760142, 27.278861))[0])

    # Esboço15 → Corte-extrusão3 (cut)
    with BuildSketch(Plane.ZY.offset(25.991571687)):
        with Locations((27.278860869, 11.76014182)):
            Circle(ESBO_O15_R)
        with Locations((102.721139131, 11.76014182)):
            Circle(ESBO_O15_R)
        with Locations((102.721139131, -11.76014182)):
            Circle(ESBO_O15_R)
        with Locations((27.278860869, -11.76014182)):
            Circle(ESBO_O15_R)
    extrude(amount=-CORTE_EXTRUS_O3_DEPTH, mode=Mode.SUBTRACT)

    # Esboço17 → Corte-extrusão4 (cut, two sides: drawn at the far end of the back side and taken through both)
    with BuildSketch(Plane(origin=(0, -27.221059229, 0), x_dir=(0, 0, -1), z_dir=(0, -1, 0)).offset(-CORTE_EXTRUS_O4_DEPTH_BACK)):
        with Locations(Location((-19, 2.034407051, 0), (0, 0, 90))):
            Circle(ESBO_O17_R)
        with Locations(Location((-6, 2.034407051, 0), (0, 0, 90))):
            Circle(ESBO_O17_R)
    extrude(amount=CORTE_EXTRUS_O4_DEPTH + CORTE_EXTRUS_O4_DEPTH_BACK, mode=Mode.SUBTRACT)

    # Esboço18 → Corte-extrusão5 (cut)
    with BuildSketch(Plane.ZX.offset(20.835810462).offset(CORTE_EXTRUS_O5_START)):
        Polygon((9, 0.302356243), (9, 3.766457858), (6, 5.498508666), (3, 3.766457858), (3, 0.302356243), (6, -1.429694564), align=None)
        Polygon((21.989029976, 3.785321041), (18.978178993, 5.498439938), (15.989149016, 3.747525948), (16.010970024, 0.283493061), (19.021821007, -1.429625836), (22.010850984, 0.321288154), align=None)
    extrude(amount=-CORTE_EXTRUS_O5_DEPTH, mode=Mode.SUBTRACT)

    # Esboço19 → Ressalto-extrusão9 (add)
    with BuildSketch(Plane.XY.offset(150)):
        with Locations((-23.057246572, 2.5)):
            Rectangle(ESBO_O19_W, ESBO_O19_H)
        with Locations((-23.057246572, -2.5)):
            Rectangle(ESBO_O19_W, ESBO_O19_H)
    extrude(amount=RESSALTO_EXTRUS_O9_DEPTH)

    # Esboço20 → Ressalto-extrusão10 (add)
    with BuildSketch(Plane(origin=(0, 5, 0), x_dir=(1, 0, 0), z_dir=(0, 1, 0))):
        Polygon((-24.557246572, -155), (-24.557246572, -152), (-27.557246572, -155), align=None)
    extrude(amount=-RESSALTO_EXTRUS_O10_DEPTH)

    # Esboço23 → Corte-extrusão6 (cut, through all)
    with BuildSketch(Plane.XZ.offset(5)):
        Polygon((-27.557246572, 155), (-25.991571687, 155), (-26.057246572, 153.5), align=None)
    extrude(amount=-CORTE_EXTRUS_O6_DEPTH, mode=Mode.SUBTRACT)


solid = part.part
